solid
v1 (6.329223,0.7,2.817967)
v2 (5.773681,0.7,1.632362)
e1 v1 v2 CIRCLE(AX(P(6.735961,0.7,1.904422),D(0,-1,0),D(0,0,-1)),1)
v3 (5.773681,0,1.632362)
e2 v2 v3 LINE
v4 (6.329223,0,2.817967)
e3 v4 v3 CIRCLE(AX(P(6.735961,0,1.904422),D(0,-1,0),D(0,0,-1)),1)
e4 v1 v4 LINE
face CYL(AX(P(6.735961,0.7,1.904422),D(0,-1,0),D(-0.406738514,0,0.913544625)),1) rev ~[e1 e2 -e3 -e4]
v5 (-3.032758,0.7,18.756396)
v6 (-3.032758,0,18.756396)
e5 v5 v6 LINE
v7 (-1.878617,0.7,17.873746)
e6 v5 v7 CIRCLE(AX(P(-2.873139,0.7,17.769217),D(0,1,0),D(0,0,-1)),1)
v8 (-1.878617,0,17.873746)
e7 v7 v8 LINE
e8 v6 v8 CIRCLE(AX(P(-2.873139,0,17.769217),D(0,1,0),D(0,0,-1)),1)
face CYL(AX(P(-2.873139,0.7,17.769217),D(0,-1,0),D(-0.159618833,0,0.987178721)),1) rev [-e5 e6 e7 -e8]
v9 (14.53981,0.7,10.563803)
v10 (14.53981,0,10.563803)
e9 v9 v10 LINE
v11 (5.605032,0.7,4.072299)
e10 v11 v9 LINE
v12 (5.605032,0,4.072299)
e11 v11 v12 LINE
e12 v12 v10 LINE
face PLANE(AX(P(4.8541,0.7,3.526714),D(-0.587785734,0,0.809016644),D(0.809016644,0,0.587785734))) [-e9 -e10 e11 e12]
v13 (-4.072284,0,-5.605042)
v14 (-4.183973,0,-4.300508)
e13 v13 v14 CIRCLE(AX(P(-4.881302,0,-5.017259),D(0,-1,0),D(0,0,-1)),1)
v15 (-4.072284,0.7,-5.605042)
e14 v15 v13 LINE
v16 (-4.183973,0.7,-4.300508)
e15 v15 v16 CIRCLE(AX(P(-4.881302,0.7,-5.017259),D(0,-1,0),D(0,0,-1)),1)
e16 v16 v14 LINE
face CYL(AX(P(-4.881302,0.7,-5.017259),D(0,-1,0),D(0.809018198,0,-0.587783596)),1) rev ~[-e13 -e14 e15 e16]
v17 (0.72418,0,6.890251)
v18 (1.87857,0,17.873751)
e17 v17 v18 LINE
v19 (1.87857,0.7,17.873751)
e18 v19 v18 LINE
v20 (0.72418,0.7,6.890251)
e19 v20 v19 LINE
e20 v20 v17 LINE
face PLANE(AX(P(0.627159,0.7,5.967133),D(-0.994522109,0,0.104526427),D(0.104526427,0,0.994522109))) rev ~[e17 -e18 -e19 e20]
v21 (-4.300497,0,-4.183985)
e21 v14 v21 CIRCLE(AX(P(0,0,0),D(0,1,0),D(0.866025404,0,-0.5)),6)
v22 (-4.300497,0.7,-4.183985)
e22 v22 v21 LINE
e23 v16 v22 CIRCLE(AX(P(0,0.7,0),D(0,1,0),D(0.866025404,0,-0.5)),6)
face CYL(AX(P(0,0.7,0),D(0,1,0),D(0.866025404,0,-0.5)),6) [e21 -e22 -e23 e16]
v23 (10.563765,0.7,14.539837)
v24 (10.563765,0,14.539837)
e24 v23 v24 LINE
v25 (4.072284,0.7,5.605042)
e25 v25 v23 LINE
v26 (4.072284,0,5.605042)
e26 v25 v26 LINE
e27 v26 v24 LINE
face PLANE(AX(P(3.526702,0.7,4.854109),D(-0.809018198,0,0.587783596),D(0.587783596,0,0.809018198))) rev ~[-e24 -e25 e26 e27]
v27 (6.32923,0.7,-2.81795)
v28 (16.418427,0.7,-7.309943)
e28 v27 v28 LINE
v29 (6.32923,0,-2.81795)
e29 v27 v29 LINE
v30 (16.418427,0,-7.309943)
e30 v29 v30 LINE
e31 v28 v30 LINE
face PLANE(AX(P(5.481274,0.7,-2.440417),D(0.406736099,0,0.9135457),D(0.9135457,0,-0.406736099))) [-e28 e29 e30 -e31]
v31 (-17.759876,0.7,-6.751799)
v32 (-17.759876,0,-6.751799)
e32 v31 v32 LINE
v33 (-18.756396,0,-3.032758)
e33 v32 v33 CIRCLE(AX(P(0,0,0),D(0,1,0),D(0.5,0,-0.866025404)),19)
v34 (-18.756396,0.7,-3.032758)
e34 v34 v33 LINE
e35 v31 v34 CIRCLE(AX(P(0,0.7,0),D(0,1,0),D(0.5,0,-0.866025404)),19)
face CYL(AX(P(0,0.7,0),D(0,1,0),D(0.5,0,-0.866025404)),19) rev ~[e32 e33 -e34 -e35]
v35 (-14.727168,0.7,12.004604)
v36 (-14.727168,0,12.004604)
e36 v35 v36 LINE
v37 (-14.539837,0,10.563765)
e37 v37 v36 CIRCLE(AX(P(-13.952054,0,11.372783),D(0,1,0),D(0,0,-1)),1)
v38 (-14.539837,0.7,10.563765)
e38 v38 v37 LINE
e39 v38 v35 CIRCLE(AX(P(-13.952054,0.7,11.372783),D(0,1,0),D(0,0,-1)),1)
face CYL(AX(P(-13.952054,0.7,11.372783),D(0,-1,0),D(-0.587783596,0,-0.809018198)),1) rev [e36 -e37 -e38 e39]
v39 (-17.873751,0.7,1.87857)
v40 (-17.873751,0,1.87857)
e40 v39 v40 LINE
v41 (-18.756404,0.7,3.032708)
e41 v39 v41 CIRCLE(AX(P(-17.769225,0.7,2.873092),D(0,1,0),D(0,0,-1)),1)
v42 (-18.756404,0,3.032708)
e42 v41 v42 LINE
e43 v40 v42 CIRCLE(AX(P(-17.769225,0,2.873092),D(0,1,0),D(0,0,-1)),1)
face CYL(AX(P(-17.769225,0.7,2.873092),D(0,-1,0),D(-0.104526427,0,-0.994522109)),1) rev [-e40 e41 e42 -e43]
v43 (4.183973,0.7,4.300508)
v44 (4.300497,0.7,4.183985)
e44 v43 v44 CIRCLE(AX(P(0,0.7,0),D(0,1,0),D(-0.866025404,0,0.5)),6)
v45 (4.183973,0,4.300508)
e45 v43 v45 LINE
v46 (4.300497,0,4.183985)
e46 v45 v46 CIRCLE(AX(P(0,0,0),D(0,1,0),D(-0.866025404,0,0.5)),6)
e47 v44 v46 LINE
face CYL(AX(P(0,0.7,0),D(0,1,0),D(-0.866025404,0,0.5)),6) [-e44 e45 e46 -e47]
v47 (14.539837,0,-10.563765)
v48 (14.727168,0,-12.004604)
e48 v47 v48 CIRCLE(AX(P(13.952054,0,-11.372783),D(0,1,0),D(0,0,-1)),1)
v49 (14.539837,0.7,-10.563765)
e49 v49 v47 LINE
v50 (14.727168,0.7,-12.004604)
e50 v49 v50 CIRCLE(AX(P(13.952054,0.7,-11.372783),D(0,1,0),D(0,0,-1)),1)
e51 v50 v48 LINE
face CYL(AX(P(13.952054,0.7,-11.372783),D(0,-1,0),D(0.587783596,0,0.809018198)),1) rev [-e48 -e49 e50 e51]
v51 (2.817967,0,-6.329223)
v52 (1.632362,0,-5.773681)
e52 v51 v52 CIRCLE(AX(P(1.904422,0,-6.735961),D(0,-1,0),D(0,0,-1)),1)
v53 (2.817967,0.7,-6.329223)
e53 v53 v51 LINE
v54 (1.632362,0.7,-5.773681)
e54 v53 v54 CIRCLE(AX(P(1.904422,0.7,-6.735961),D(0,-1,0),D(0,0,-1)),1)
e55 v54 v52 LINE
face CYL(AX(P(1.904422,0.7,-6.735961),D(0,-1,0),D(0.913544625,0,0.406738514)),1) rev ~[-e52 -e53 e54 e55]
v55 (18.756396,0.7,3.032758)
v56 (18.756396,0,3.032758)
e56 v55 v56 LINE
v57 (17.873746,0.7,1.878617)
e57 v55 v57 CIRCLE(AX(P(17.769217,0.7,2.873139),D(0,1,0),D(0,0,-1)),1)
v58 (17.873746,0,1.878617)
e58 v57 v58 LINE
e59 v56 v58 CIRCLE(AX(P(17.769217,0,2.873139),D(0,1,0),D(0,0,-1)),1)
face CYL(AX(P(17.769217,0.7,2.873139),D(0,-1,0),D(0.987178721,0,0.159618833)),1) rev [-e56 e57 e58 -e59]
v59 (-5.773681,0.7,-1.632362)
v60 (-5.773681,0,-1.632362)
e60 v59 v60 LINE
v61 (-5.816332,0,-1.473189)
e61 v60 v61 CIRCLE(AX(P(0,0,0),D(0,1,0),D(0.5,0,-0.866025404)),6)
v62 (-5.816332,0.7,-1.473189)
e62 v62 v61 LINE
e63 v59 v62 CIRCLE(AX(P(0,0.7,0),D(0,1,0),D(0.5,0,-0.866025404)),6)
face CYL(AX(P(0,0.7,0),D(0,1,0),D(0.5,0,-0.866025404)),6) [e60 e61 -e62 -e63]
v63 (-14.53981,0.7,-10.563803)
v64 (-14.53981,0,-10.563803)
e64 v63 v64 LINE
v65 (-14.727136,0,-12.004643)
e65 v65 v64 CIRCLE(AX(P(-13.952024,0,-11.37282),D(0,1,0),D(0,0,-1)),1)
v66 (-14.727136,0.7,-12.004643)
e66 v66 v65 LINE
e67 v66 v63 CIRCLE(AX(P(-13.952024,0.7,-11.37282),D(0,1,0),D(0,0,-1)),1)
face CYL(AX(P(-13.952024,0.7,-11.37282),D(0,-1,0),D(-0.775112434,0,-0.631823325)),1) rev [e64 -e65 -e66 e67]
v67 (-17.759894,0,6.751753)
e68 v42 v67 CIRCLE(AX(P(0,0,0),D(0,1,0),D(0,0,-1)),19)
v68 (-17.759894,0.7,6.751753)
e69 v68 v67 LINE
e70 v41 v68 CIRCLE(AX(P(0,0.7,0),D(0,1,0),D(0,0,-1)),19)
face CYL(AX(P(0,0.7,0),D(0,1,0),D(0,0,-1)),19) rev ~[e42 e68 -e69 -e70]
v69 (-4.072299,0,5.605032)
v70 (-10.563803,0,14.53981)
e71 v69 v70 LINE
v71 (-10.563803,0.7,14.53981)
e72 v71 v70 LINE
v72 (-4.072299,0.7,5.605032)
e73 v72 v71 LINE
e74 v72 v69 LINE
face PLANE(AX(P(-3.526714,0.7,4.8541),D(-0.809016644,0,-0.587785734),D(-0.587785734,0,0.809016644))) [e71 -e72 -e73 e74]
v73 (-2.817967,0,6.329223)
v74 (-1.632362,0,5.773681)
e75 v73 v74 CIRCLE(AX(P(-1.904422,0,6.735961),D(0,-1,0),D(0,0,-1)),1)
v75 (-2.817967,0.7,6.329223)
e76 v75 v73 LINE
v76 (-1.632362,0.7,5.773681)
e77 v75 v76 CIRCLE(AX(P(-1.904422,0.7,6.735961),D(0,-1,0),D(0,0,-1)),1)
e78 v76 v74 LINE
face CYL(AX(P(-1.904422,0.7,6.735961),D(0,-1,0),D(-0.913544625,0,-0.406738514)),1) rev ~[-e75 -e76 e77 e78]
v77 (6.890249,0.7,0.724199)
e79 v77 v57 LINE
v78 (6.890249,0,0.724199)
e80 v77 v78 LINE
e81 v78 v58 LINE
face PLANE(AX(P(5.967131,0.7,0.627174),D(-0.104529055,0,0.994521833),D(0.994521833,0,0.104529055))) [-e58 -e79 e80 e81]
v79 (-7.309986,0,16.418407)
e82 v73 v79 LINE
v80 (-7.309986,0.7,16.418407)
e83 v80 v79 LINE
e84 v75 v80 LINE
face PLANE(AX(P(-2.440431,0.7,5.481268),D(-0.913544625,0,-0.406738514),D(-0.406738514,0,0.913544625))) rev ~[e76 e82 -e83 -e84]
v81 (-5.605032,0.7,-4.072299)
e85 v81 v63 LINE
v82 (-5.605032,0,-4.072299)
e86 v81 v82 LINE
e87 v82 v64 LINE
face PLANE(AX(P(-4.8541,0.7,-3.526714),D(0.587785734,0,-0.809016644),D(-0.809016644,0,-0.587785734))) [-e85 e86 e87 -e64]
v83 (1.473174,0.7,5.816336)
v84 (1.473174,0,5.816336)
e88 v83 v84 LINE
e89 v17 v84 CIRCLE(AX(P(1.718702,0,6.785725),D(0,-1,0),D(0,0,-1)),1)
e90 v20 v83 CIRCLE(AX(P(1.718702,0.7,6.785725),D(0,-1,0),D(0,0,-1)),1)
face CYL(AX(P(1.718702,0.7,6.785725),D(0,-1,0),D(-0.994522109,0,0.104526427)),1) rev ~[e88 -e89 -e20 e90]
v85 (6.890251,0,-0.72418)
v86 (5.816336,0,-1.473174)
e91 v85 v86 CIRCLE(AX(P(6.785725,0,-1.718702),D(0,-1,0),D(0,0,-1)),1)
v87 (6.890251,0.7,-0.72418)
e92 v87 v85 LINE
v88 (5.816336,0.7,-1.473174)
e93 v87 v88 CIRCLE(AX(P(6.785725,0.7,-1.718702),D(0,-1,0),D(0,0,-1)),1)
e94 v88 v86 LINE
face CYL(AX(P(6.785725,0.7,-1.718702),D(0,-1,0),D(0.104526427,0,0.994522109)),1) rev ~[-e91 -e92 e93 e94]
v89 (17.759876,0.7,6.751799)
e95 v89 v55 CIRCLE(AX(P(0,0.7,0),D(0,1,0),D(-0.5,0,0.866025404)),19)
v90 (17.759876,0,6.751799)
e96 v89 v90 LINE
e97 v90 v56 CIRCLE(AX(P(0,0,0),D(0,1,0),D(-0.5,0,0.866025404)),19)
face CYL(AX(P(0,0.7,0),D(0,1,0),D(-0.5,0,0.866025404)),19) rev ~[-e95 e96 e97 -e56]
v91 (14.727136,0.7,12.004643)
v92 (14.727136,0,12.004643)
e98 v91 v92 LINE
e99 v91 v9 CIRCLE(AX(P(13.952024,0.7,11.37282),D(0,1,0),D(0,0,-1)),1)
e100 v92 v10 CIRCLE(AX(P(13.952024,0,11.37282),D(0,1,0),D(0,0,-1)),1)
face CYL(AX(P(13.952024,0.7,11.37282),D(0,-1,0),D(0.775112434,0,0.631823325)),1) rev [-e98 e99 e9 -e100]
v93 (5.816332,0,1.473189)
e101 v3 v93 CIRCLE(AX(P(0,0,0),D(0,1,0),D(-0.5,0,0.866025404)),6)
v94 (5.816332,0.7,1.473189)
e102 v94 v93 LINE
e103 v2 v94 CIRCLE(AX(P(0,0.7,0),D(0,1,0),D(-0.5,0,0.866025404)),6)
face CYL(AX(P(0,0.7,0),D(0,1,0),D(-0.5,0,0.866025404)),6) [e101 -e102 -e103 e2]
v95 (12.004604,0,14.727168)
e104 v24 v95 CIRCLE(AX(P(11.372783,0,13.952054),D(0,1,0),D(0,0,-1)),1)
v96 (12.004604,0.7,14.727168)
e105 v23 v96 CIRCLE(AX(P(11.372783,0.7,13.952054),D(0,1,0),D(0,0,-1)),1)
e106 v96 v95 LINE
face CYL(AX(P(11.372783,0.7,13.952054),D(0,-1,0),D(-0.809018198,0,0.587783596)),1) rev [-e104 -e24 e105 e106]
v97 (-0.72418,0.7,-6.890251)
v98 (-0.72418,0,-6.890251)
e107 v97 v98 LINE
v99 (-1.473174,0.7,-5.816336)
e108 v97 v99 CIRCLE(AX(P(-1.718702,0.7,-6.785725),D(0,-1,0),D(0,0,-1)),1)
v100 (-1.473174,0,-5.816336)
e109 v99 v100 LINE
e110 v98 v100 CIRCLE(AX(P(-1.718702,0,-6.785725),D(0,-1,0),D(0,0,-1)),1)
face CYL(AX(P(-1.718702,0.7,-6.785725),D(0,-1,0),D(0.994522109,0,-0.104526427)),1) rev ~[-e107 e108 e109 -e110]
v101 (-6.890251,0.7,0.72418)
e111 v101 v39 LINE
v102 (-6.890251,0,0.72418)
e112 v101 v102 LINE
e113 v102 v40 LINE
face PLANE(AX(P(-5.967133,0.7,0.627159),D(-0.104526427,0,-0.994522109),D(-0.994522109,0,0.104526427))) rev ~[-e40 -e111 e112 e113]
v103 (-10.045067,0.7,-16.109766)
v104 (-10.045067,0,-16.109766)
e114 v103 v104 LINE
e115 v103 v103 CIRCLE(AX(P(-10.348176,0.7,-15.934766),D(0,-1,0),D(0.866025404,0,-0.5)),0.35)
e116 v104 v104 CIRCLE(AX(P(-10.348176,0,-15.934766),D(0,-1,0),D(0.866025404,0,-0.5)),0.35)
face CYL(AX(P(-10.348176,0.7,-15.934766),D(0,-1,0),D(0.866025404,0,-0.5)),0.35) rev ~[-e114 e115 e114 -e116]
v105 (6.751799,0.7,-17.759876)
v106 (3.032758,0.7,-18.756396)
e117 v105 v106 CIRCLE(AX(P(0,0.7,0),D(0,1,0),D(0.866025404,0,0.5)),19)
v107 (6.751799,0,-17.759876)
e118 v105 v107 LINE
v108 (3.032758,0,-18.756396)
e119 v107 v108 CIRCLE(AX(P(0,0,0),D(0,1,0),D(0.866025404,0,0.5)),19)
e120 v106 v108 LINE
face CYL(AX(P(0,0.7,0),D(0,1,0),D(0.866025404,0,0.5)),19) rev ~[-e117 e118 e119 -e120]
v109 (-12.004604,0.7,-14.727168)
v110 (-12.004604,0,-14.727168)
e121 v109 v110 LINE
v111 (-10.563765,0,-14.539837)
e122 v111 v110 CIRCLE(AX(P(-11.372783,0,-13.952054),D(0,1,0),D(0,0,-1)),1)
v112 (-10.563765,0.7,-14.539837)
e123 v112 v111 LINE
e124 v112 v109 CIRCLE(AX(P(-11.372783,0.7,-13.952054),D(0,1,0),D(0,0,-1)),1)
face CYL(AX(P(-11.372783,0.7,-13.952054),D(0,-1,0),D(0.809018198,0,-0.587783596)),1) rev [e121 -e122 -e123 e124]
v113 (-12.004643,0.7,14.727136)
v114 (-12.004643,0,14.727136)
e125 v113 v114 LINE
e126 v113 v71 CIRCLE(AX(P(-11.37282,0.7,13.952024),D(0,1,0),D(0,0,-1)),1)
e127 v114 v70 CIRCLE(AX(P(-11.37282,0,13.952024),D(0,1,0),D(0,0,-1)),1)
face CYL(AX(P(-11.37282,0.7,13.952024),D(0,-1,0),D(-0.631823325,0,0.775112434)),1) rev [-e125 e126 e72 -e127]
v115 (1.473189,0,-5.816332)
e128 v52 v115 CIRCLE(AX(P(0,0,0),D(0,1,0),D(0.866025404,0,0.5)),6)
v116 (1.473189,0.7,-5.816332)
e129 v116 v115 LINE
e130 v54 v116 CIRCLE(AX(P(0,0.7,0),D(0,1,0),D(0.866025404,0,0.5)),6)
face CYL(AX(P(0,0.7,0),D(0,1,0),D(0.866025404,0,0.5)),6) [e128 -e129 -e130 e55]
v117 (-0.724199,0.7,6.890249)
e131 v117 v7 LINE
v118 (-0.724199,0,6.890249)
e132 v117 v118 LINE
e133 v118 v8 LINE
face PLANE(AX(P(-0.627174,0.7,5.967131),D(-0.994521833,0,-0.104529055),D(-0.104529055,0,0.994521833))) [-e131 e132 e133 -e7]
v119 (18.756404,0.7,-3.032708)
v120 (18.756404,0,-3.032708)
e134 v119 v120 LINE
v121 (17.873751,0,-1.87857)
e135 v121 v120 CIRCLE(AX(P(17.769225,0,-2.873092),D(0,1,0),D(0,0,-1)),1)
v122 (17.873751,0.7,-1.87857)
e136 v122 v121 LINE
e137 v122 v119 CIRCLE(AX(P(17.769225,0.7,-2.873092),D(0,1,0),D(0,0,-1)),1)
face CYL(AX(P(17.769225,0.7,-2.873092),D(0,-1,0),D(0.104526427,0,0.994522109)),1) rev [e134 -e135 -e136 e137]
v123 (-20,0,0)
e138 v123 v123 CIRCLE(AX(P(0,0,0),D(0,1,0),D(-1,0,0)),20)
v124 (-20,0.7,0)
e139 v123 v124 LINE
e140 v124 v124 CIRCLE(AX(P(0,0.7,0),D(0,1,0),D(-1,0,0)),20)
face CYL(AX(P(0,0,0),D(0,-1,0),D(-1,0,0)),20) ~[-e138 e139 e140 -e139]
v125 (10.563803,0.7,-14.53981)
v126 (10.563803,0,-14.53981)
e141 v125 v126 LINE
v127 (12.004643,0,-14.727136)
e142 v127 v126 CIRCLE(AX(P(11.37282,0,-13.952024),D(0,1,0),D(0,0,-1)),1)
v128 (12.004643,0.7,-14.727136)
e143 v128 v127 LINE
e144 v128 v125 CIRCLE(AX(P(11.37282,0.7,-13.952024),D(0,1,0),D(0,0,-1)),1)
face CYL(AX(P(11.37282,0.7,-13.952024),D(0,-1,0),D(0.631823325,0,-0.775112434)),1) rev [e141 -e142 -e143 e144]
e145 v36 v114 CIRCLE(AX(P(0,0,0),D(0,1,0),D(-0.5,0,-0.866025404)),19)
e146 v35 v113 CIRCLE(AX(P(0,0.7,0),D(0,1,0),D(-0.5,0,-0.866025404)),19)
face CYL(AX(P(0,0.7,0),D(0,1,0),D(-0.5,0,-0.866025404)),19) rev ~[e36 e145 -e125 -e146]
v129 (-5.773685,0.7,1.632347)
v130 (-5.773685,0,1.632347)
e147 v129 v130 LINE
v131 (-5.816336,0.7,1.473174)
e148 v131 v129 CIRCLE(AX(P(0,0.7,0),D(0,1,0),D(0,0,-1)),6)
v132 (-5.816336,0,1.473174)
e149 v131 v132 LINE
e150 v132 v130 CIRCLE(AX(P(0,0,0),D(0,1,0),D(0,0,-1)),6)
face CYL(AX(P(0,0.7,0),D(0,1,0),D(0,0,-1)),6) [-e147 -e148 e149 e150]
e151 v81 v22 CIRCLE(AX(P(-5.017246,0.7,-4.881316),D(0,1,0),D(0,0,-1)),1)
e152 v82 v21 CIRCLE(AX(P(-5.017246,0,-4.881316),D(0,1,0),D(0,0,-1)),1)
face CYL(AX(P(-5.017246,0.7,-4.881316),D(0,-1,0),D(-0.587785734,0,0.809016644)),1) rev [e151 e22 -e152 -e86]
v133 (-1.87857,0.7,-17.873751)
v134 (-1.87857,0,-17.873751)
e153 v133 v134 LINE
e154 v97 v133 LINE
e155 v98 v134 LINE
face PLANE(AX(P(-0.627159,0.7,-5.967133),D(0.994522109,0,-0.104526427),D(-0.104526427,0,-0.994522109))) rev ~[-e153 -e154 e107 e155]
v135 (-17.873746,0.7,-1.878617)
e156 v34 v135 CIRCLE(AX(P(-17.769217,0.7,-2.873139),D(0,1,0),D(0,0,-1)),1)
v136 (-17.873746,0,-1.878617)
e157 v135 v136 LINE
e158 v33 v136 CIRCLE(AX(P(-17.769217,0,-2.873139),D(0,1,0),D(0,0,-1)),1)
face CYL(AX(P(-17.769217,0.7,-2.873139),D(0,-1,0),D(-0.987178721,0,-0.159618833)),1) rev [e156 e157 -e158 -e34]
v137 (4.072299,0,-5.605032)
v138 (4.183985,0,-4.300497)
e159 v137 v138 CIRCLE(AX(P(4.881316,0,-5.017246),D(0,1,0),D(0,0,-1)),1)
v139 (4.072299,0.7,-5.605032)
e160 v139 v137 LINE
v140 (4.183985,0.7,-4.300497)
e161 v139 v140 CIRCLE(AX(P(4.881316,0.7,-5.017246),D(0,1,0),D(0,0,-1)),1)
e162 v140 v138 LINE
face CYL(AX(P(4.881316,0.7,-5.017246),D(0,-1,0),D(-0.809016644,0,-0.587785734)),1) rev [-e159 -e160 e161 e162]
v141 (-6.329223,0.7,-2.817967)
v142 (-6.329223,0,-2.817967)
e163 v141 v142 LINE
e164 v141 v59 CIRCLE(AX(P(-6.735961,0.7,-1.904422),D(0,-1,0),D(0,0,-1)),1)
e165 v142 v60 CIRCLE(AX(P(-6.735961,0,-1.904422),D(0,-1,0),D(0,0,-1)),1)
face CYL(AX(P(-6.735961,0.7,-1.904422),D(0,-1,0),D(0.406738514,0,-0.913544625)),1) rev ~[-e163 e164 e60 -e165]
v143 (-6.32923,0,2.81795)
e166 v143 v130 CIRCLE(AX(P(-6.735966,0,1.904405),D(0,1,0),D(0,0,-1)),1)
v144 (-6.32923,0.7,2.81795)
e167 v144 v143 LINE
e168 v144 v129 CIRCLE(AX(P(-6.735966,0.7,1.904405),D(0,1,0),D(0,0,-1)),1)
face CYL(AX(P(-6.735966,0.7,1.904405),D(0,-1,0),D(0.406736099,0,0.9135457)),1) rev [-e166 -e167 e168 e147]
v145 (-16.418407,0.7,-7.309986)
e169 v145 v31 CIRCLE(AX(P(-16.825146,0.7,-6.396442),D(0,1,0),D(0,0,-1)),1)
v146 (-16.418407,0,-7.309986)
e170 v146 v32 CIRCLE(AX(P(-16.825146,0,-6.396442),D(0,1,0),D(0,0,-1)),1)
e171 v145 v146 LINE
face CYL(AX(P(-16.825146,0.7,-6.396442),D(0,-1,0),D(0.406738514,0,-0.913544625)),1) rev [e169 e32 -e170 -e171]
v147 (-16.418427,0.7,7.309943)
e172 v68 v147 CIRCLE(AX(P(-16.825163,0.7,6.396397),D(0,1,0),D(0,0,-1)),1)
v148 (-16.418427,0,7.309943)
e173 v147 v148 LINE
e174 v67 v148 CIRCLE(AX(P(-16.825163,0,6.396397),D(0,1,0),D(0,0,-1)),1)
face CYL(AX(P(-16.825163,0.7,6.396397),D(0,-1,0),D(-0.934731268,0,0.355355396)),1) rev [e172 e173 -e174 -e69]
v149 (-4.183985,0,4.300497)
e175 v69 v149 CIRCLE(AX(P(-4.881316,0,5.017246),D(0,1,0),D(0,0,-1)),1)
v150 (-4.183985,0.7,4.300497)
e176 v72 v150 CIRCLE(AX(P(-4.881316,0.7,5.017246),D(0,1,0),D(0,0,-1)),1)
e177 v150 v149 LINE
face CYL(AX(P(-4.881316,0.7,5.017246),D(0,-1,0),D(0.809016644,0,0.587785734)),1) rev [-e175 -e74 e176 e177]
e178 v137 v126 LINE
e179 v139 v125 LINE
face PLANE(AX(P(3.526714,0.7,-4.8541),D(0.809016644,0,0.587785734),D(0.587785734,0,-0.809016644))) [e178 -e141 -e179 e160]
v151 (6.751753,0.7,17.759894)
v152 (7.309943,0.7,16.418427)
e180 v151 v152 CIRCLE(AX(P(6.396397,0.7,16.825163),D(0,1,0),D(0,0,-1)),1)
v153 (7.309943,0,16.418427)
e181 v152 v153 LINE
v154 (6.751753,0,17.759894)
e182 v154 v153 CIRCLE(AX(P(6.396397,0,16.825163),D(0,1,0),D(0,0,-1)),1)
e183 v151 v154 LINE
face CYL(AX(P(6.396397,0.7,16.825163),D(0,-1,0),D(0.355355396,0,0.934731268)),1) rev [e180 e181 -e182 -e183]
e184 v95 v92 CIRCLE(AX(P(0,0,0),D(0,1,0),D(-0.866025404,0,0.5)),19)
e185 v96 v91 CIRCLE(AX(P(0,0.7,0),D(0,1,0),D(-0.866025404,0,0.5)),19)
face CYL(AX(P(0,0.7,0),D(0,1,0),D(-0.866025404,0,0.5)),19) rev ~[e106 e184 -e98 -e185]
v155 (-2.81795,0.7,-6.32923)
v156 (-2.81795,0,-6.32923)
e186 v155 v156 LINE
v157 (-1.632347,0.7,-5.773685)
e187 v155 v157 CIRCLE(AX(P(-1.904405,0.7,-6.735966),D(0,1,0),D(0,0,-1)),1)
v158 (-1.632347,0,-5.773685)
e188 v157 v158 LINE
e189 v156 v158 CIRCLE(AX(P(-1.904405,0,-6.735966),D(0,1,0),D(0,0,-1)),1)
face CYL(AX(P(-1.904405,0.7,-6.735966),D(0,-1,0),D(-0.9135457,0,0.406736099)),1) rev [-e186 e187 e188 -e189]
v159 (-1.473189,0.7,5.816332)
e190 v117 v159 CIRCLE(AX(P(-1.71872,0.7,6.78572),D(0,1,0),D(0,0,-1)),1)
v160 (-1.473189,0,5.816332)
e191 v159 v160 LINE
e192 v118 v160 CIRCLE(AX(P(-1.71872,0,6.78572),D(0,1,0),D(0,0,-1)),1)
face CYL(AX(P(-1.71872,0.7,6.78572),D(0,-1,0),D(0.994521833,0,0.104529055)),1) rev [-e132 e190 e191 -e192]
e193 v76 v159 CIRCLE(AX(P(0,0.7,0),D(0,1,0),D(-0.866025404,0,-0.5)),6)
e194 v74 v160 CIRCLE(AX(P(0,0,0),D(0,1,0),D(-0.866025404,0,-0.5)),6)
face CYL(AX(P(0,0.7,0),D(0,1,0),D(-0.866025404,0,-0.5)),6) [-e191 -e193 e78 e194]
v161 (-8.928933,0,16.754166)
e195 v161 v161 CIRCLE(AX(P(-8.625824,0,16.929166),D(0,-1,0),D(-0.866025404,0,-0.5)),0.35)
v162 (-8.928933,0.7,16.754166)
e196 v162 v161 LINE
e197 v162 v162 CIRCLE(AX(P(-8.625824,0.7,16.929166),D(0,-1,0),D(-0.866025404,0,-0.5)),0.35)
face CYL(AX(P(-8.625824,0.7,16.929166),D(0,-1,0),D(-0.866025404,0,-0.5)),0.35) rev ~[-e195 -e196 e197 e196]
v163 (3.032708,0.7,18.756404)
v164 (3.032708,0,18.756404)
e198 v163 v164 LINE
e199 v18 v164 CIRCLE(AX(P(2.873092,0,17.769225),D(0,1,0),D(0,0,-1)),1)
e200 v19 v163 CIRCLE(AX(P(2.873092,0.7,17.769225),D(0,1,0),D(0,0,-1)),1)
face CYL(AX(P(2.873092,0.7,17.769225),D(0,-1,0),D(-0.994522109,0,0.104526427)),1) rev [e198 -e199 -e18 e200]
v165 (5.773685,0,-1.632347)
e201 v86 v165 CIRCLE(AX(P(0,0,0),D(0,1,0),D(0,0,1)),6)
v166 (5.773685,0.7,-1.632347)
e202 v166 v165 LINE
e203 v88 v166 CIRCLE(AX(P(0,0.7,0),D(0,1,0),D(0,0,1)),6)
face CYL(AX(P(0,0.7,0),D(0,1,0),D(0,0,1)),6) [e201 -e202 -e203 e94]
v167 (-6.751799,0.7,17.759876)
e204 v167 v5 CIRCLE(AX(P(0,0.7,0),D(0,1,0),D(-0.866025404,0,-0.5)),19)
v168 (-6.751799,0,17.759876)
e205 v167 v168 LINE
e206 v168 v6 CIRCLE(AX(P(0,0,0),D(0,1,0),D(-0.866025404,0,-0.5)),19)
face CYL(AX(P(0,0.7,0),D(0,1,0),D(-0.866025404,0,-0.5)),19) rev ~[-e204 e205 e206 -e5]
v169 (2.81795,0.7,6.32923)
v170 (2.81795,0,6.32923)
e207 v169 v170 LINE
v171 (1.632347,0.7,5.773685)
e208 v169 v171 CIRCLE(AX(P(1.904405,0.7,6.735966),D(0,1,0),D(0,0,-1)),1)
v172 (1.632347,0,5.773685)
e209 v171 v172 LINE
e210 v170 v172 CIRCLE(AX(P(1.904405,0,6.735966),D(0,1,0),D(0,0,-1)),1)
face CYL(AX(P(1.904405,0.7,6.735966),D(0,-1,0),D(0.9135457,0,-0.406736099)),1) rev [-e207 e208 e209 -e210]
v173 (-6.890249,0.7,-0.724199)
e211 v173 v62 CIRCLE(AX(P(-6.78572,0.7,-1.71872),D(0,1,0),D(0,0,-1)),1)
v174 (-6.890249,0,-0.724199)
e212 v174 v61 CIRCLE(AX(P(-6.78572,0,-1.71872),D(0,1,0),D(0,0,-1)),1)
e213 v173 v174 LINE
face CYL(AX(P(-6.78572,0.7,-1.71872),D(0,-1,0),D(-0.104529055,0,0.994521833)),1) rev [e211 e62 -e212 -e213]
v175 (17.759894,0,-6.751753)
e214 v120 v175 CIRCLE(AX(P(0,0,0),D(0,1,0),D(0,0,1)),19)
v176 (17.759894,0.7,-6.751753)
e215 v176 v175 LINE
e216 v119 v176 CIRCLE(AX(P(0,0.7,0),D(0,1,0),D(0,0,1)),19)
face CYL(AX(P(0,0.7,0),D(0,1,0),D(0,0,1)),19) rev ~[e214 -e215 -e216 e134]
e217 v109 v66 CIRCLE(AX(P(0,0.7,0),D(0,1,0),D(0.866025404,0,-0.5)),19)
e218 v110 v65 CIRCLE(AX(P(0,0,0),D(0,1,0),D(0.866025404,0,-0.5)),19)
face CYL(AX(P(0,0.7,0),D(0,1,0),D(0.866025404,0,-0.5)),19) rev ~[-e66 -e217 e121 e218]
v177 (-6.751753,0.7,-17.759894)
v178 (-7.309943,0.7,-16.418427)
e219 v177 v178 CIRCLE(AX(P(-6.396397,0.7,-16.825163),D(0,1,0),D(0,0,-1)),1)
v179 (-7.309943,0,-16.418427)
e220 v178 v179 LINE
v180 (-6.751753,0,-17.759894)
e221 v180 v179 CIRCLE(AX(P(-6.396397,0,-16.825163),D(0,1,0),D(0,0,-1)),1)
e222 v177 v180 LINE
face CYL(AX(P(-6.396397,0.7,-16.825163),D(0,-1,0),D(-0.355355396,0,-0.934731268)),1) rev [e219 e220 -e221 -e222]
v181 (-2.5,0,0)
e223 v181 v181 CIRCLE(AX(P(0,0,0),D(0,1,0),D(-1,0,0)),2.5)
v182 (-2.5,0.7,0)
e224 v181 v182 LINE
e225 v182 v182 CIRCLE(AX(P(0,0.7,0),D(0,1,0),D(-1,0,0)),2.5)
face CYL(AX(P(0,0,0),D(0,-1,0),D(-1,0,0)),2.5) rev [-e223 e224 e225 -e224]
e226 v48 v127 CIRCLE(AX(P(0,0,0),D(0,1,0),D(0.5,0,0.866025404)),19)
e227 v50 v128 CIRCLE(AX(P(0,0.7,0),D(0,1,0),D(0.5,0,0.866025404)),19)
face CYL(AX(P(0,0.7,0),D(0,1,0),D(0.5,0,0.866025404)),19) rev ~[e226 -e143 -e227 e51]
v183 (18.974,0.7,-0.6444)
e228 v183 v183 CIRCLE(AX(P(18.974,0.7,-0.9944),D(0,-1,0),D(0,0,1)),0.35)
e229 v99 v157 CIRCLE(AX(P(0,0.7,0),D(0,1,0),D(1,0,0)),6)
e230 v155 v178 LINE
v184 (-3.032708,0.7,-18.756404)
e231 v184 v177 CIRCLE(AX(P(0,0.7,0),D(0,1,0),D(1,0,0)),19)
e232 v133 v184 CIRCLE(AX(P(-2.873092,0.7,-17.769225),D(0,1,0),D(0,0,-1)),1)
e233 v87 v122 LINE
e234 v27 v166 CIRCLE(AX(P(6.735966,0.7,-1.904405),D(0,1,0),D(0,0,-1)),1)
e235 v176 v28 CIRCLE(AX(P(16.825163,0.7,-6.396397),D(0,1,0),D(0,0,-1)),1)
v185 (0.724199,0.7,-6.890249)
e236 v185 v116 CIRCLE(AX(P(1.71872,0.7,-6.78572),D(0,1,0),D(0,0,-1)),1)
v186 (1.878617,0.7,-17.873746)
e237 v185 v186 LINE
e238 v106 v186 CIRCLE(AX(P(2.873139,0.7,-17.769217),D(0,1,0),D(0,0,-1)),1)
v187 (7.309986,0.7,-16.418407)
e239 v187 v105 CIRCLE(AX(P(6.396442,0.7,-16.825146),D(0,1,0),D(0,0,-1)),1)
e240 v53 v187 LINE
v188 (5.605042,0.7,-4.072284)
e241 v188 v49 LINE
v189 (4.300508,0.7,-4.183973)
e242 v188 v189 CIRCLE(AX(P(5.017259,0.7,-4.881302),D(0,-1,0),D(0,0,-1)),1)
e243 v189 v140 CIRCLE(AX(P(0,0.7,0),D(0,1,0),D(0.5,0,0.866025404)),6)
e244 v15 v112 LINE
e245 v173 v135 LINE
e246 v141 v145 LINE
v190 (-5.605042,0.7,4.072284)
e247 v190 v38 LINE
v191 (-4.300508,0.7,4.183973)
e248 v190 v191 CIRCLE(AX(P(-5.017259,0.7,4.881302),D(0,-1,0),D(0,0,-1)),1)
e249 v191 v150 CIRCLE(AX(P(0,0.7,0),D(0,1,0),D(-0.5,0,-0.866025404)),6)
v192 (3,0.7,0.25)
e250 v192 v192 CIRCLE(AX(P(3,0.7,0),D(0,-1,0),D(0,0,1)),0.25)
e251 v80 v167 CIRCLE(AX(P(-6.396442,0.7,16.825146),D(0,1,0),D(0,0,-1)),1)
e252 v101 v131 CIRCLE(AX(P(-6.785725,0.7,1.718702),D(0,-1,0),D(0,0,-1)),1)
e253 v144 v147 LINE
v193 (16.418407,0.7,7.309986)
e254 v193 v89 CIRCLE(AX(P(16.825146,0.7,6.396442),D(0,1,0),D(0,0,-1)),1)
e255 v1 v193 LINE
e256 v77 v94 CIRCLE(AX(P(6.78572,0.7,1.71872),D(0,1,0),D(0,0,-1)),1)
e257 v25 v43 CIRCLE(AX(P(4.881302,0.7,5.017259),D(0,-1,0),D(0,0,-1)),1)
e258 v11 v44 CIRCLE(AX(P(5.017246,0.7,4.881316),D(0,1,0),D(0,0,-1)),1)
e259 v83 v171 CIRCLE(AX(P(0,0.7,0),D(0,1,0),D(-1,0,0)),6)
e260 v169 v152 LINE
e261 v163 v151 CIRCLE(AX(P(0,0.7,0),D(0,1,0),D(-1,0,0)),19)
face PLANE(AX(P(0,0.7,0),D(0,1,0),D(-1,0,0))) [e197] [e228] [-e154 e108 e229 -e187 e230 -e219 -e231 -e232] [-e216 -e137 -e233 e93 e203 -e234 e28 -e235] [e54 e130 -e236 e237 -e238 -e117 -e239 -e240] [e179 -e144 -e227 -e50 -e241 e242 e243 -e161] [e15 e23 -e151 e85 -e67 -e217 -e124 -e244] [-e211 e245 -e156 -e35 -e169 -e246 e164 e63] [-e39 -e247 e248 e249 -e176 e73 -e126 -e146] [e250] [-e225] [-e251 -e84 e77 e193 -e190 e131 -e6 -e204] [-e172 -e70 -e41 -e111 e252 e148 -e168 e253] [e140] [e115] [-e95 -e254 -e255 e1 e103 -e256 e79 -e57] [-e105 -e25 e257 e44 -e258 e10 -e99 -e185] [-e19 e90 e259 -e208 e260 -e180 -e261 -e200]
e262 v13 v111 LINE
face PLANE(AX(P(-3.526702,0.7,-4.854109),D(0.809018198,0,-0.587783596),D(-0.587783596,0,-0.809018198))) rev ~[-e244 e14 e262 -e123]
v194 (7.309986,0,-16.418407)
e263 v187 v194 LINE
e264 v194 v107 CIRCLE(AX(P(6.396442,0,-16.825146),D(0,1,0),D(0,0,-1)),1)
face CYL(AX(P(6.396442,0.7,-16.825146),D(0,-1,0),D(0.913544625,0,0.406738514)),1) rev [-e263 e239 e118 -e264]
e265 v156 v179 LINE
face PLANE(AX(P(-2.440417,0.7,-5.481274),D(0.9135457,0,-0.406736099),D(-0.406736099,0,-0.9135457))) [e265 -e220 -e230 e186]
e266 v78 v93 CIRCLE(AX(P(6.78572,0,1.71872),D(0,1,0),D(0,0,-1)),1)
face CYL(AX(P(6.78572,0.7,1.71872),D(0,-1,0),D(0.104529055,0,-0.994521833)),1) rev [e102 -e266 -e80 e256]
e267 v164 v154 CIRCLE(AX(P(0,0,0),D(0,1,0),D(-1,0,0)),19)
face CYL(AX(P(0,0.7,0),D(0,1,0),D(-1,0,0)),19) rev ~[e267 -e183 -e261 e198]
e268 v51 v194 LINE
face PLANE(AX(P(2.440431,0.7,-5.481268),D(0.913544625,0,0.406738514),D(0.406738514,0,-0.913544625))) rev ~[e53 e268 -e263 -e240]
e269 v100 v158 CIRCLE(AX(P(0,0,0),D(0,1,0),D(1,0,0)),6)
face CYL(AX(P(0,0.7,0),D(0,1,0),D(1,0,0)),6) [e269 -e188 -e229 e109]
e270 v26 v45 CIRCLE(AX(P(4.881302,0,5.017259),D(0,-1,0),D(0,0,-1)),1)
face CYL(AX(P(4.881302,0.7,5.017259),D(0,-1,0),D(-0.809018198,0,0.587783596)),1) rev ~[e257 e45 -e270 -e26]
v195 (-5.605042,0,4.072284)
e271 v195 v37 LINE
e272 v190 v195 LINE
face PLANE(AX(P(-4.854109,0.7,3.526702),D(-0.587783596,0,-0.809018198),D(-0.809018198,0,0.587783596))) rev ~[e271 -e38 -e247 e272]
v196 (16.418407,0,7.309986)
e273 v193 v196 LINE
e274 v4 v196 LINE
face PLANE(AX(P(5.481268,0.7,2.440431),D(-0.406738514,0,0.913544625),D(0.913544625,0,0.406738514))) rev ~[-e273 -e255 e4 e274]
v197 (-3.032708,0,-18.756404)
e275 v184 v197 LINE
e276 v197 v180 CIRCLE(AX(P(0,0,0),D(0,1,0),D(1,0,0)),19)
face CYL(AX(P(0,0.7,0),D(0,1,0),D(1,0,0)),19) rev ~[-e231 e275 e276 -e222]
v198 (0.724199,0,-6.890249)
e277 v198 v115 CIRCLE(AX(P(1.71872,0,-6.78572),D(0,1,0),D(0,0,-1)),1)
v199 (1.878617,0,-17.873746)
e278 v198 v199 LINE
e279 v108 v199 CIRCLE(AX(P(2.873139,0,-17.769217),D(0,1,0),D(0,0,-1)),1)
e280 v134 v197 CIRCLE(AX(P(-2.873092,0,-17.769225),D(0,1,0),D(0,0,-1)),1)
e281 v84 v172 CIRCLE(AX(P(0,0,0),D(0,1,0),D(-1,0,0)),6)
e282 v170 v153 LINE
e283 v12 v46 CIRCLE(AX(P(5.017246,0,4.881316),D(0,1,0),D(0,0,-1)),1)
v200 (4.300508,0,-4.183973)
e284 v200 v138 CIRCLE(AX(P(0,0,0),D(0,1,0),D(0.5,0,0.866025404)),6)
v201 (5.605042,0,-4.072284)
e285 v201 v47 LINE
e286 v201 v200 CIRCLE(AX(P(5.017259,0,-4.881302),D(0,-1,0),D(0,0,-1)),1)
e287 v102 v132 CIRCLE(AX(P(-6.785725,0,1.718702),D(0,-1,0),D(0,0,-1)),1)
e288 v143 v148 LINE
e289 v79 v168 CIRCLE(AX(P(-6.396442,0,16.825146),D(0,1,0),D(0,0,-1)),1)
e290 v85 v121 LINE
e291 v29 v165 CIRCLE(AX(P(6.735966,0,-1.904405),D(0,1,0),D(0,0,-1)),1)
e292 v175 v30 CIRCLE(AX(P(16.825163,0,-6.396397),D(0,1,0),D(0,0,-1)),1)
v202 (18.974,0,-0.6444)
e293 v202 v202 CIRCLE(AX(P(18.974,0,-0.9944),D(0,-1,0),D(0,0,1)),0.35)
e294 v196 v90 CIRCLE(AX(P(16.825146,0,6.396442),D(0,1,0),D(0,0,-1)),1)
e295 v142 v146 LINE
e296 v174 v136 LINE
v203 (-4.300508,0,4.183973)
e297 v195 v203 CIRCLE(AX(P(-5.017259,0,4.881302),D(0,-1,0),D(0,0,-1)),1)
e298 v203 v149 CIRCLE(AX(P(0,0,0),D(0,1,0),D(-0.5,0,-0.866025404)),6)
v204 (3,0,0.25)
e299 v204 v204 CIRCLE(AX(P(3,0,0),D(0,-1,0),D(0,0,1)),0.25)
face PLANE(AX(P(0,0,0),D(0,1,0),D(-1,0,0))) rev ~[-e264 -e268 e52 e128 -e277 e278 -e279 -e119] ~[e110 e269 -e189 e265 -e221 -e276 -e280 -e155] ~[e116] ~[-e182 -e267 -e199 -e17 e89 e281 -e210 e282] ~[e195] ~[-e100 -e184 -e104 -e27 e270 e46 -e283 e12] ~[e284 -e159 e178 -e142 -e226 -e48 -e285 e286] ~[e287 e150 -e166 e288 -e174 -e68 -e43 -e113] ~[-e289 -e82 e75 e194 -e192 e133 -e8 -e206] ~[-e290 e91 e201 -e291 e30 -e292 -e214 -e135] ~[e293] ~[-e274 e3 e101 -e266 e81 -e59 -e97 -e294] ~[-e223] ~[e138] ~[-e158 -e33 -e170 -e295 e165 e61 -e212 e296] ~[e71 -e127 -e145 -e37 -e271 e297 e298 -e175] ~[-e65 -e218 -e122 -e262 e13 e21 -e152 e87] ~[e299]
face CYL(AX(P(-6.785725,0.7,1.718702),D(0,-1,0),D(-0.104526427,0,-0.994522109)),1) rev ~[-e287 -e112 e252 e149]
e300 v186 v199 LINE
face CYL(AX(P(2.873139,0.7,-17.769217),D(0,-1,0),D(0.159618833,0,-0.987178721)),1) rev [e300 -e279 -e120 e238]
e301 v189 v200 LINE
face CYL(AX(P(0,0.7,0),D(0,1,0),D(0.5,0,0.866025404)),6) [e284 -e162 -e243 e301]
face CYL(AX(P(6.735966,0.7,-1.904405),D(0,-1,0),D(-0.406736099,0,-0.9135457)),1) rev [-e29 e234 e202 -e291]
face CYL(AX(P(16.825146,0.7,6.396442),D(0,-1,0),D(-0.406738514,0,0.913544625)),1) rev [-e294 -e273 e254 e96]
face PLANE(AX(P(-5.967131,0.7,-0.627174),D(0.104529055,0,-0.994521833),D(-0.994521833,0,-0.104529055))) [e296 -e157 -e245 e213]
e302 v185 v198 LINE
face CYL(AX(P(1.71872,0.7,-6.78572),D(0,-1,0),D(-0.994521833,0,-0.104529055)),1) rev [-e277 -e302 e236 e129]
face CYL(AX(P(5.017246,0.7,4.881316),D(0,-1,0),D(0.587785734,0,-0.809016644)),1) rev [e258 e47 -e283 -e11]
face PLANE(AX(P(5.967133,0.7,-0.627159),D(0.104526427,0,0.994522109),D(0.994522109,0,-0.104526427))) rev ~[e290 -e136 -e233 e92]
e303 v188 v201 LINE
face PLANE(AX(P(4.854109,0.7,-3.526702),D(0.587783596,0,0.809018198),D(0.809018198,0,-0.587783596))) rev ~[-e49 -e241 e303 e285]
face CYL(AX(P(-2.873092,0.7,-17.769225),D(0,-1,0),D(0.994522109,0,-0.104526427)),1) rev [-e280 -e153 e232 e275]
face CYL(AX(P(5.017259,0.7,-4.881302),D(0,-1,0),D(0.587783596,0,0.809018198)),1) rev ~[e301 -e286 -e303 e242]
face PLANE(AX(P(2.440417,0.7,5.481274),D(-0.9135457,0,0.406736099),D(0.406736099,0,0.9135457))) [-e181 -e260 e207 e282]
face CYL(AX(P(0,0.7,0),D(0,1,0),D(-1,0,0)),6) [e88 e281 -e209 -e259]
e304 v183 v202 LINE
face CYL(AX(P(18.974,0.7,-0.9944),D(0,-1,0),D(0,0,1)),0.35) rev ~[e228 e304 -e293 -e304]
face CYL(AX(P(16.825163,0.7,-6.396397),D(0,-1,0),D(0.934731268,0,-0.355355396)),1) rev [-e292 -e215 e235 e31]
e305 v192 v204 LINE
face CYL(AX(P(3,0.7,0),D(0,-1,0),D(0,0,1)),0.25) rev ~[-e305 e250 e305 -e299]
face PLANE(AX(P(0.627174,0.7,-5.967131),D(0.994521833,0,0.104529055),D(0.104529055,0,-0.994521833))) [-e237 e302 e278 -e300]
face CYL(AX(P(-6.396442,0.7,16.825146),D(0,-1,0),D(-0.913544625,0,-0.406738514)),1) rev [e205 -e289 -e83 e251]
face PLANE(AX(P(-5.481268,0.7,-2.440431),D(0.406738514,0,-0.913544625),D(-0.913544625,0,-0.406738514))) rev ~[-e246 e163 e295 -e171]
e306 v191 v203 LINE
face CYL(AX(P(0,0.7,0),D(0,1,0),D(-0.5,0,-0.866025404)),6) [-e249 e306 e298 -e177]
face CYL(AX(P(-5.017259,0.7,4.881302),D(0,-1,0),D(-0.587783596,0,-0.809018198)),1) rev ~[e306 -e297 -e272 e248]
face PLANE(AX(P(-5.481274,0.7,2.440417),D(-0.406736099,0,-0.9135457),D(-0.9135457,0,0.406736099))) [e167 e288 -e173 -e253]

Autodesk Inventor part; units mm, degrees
ref_plane "YZ Plane" through (0, 0, 0) normal (1, 0, 0) x (0, 1, 0)
ref_plane "XZ Plane" through (0, 0, 0) normal (0, 1, 0) x (-1, 0, 0)
ref_plane "XY Plane" through (0, 0, 0) normal (0, 0, 1) x (1, 0, 0)
sketch "Sketch1" plane through (0, 0, 0) normal (0, 1, 0) x (-1, 0, 0)
  circle A0 centre (0, 0) radius 20
  circle A1 centre (0, 0) radius 2.5
  dimension "d0" = 40
  dimension "d1" = 5
extrude "Extrusion1" add sketch "Sketch1" along normal blind 0.7
sketch "Sketch5" plane through (0, 0.7, 0) normal (0, 1, 0) x (1, 0, 0)
  circle A0 centre (0, 0) radius 19 construction
  point P0 (18.974, 0.9944)
  point P1 (19, 0)
  dimension "d35" = 38
  dimension "d36" = 3
hole "Hole3" at (18.974, 0.7, -0.9944) direction (0, -1, 0) diameter 0.7 end through all
pattern_circular "Circular Pattern1" count 3 over 360 about axis through (0, -10, 0) along (0, 1, 0) of "Hole3"
sketch "Sketch6" plane through (0, 0.7, 0) normal (0, 1, 0) x (1, 0, 0)
  circle A0 centre (0, 0) radius 6
  line L0 (0, 0) -> (-1.986, 18.8959)
  line L1 (0, 0) -> (-7.728, 17.3574)
  line L2 (0, 28) -> (0, -28) projected
  circle A1 centre (0, 0) radius 19
  point P0 (-2.4404, 5.4813)
  point P1 (-0.6272, 5.9671)
  dimension "d47" = 12
  dimension "d51" = 38
  dimension "d53" = 6
  dimension "d54" = 18
extrude "Extrusion3" cut sketch "Sketch6" against normal through all contours A0 L1 A1 L0
fillet "Fillet1" radius 1 4 edges at (-7.728, 0.35, -17.3574) (-1.986, 0.35, -18.8959) (-2.4404, 0.35, -5.4813) (-0.6272, 0.35, -5.9671)
pattern_circular "Circular Pattern2" count 12 over 360 about axis through (0, 0, 0) along (0, 1, 0) of "Extrusion3", "Fillet1"
sketch "Sketch7" plane through (0, 0.7, 0) normal (0, 1, 0) x (1, 0, 0)
  point P0 (0, 0)
  point P1 (3, 0)
  dimension "d61" = 3
hole "Hole4" at (3, 0.7, 0) direction (0, -1, 0) diameter 0.5 end through all
properties part number "torsosc-electrode-pcb-fr4" material "Epoxy Resin"
